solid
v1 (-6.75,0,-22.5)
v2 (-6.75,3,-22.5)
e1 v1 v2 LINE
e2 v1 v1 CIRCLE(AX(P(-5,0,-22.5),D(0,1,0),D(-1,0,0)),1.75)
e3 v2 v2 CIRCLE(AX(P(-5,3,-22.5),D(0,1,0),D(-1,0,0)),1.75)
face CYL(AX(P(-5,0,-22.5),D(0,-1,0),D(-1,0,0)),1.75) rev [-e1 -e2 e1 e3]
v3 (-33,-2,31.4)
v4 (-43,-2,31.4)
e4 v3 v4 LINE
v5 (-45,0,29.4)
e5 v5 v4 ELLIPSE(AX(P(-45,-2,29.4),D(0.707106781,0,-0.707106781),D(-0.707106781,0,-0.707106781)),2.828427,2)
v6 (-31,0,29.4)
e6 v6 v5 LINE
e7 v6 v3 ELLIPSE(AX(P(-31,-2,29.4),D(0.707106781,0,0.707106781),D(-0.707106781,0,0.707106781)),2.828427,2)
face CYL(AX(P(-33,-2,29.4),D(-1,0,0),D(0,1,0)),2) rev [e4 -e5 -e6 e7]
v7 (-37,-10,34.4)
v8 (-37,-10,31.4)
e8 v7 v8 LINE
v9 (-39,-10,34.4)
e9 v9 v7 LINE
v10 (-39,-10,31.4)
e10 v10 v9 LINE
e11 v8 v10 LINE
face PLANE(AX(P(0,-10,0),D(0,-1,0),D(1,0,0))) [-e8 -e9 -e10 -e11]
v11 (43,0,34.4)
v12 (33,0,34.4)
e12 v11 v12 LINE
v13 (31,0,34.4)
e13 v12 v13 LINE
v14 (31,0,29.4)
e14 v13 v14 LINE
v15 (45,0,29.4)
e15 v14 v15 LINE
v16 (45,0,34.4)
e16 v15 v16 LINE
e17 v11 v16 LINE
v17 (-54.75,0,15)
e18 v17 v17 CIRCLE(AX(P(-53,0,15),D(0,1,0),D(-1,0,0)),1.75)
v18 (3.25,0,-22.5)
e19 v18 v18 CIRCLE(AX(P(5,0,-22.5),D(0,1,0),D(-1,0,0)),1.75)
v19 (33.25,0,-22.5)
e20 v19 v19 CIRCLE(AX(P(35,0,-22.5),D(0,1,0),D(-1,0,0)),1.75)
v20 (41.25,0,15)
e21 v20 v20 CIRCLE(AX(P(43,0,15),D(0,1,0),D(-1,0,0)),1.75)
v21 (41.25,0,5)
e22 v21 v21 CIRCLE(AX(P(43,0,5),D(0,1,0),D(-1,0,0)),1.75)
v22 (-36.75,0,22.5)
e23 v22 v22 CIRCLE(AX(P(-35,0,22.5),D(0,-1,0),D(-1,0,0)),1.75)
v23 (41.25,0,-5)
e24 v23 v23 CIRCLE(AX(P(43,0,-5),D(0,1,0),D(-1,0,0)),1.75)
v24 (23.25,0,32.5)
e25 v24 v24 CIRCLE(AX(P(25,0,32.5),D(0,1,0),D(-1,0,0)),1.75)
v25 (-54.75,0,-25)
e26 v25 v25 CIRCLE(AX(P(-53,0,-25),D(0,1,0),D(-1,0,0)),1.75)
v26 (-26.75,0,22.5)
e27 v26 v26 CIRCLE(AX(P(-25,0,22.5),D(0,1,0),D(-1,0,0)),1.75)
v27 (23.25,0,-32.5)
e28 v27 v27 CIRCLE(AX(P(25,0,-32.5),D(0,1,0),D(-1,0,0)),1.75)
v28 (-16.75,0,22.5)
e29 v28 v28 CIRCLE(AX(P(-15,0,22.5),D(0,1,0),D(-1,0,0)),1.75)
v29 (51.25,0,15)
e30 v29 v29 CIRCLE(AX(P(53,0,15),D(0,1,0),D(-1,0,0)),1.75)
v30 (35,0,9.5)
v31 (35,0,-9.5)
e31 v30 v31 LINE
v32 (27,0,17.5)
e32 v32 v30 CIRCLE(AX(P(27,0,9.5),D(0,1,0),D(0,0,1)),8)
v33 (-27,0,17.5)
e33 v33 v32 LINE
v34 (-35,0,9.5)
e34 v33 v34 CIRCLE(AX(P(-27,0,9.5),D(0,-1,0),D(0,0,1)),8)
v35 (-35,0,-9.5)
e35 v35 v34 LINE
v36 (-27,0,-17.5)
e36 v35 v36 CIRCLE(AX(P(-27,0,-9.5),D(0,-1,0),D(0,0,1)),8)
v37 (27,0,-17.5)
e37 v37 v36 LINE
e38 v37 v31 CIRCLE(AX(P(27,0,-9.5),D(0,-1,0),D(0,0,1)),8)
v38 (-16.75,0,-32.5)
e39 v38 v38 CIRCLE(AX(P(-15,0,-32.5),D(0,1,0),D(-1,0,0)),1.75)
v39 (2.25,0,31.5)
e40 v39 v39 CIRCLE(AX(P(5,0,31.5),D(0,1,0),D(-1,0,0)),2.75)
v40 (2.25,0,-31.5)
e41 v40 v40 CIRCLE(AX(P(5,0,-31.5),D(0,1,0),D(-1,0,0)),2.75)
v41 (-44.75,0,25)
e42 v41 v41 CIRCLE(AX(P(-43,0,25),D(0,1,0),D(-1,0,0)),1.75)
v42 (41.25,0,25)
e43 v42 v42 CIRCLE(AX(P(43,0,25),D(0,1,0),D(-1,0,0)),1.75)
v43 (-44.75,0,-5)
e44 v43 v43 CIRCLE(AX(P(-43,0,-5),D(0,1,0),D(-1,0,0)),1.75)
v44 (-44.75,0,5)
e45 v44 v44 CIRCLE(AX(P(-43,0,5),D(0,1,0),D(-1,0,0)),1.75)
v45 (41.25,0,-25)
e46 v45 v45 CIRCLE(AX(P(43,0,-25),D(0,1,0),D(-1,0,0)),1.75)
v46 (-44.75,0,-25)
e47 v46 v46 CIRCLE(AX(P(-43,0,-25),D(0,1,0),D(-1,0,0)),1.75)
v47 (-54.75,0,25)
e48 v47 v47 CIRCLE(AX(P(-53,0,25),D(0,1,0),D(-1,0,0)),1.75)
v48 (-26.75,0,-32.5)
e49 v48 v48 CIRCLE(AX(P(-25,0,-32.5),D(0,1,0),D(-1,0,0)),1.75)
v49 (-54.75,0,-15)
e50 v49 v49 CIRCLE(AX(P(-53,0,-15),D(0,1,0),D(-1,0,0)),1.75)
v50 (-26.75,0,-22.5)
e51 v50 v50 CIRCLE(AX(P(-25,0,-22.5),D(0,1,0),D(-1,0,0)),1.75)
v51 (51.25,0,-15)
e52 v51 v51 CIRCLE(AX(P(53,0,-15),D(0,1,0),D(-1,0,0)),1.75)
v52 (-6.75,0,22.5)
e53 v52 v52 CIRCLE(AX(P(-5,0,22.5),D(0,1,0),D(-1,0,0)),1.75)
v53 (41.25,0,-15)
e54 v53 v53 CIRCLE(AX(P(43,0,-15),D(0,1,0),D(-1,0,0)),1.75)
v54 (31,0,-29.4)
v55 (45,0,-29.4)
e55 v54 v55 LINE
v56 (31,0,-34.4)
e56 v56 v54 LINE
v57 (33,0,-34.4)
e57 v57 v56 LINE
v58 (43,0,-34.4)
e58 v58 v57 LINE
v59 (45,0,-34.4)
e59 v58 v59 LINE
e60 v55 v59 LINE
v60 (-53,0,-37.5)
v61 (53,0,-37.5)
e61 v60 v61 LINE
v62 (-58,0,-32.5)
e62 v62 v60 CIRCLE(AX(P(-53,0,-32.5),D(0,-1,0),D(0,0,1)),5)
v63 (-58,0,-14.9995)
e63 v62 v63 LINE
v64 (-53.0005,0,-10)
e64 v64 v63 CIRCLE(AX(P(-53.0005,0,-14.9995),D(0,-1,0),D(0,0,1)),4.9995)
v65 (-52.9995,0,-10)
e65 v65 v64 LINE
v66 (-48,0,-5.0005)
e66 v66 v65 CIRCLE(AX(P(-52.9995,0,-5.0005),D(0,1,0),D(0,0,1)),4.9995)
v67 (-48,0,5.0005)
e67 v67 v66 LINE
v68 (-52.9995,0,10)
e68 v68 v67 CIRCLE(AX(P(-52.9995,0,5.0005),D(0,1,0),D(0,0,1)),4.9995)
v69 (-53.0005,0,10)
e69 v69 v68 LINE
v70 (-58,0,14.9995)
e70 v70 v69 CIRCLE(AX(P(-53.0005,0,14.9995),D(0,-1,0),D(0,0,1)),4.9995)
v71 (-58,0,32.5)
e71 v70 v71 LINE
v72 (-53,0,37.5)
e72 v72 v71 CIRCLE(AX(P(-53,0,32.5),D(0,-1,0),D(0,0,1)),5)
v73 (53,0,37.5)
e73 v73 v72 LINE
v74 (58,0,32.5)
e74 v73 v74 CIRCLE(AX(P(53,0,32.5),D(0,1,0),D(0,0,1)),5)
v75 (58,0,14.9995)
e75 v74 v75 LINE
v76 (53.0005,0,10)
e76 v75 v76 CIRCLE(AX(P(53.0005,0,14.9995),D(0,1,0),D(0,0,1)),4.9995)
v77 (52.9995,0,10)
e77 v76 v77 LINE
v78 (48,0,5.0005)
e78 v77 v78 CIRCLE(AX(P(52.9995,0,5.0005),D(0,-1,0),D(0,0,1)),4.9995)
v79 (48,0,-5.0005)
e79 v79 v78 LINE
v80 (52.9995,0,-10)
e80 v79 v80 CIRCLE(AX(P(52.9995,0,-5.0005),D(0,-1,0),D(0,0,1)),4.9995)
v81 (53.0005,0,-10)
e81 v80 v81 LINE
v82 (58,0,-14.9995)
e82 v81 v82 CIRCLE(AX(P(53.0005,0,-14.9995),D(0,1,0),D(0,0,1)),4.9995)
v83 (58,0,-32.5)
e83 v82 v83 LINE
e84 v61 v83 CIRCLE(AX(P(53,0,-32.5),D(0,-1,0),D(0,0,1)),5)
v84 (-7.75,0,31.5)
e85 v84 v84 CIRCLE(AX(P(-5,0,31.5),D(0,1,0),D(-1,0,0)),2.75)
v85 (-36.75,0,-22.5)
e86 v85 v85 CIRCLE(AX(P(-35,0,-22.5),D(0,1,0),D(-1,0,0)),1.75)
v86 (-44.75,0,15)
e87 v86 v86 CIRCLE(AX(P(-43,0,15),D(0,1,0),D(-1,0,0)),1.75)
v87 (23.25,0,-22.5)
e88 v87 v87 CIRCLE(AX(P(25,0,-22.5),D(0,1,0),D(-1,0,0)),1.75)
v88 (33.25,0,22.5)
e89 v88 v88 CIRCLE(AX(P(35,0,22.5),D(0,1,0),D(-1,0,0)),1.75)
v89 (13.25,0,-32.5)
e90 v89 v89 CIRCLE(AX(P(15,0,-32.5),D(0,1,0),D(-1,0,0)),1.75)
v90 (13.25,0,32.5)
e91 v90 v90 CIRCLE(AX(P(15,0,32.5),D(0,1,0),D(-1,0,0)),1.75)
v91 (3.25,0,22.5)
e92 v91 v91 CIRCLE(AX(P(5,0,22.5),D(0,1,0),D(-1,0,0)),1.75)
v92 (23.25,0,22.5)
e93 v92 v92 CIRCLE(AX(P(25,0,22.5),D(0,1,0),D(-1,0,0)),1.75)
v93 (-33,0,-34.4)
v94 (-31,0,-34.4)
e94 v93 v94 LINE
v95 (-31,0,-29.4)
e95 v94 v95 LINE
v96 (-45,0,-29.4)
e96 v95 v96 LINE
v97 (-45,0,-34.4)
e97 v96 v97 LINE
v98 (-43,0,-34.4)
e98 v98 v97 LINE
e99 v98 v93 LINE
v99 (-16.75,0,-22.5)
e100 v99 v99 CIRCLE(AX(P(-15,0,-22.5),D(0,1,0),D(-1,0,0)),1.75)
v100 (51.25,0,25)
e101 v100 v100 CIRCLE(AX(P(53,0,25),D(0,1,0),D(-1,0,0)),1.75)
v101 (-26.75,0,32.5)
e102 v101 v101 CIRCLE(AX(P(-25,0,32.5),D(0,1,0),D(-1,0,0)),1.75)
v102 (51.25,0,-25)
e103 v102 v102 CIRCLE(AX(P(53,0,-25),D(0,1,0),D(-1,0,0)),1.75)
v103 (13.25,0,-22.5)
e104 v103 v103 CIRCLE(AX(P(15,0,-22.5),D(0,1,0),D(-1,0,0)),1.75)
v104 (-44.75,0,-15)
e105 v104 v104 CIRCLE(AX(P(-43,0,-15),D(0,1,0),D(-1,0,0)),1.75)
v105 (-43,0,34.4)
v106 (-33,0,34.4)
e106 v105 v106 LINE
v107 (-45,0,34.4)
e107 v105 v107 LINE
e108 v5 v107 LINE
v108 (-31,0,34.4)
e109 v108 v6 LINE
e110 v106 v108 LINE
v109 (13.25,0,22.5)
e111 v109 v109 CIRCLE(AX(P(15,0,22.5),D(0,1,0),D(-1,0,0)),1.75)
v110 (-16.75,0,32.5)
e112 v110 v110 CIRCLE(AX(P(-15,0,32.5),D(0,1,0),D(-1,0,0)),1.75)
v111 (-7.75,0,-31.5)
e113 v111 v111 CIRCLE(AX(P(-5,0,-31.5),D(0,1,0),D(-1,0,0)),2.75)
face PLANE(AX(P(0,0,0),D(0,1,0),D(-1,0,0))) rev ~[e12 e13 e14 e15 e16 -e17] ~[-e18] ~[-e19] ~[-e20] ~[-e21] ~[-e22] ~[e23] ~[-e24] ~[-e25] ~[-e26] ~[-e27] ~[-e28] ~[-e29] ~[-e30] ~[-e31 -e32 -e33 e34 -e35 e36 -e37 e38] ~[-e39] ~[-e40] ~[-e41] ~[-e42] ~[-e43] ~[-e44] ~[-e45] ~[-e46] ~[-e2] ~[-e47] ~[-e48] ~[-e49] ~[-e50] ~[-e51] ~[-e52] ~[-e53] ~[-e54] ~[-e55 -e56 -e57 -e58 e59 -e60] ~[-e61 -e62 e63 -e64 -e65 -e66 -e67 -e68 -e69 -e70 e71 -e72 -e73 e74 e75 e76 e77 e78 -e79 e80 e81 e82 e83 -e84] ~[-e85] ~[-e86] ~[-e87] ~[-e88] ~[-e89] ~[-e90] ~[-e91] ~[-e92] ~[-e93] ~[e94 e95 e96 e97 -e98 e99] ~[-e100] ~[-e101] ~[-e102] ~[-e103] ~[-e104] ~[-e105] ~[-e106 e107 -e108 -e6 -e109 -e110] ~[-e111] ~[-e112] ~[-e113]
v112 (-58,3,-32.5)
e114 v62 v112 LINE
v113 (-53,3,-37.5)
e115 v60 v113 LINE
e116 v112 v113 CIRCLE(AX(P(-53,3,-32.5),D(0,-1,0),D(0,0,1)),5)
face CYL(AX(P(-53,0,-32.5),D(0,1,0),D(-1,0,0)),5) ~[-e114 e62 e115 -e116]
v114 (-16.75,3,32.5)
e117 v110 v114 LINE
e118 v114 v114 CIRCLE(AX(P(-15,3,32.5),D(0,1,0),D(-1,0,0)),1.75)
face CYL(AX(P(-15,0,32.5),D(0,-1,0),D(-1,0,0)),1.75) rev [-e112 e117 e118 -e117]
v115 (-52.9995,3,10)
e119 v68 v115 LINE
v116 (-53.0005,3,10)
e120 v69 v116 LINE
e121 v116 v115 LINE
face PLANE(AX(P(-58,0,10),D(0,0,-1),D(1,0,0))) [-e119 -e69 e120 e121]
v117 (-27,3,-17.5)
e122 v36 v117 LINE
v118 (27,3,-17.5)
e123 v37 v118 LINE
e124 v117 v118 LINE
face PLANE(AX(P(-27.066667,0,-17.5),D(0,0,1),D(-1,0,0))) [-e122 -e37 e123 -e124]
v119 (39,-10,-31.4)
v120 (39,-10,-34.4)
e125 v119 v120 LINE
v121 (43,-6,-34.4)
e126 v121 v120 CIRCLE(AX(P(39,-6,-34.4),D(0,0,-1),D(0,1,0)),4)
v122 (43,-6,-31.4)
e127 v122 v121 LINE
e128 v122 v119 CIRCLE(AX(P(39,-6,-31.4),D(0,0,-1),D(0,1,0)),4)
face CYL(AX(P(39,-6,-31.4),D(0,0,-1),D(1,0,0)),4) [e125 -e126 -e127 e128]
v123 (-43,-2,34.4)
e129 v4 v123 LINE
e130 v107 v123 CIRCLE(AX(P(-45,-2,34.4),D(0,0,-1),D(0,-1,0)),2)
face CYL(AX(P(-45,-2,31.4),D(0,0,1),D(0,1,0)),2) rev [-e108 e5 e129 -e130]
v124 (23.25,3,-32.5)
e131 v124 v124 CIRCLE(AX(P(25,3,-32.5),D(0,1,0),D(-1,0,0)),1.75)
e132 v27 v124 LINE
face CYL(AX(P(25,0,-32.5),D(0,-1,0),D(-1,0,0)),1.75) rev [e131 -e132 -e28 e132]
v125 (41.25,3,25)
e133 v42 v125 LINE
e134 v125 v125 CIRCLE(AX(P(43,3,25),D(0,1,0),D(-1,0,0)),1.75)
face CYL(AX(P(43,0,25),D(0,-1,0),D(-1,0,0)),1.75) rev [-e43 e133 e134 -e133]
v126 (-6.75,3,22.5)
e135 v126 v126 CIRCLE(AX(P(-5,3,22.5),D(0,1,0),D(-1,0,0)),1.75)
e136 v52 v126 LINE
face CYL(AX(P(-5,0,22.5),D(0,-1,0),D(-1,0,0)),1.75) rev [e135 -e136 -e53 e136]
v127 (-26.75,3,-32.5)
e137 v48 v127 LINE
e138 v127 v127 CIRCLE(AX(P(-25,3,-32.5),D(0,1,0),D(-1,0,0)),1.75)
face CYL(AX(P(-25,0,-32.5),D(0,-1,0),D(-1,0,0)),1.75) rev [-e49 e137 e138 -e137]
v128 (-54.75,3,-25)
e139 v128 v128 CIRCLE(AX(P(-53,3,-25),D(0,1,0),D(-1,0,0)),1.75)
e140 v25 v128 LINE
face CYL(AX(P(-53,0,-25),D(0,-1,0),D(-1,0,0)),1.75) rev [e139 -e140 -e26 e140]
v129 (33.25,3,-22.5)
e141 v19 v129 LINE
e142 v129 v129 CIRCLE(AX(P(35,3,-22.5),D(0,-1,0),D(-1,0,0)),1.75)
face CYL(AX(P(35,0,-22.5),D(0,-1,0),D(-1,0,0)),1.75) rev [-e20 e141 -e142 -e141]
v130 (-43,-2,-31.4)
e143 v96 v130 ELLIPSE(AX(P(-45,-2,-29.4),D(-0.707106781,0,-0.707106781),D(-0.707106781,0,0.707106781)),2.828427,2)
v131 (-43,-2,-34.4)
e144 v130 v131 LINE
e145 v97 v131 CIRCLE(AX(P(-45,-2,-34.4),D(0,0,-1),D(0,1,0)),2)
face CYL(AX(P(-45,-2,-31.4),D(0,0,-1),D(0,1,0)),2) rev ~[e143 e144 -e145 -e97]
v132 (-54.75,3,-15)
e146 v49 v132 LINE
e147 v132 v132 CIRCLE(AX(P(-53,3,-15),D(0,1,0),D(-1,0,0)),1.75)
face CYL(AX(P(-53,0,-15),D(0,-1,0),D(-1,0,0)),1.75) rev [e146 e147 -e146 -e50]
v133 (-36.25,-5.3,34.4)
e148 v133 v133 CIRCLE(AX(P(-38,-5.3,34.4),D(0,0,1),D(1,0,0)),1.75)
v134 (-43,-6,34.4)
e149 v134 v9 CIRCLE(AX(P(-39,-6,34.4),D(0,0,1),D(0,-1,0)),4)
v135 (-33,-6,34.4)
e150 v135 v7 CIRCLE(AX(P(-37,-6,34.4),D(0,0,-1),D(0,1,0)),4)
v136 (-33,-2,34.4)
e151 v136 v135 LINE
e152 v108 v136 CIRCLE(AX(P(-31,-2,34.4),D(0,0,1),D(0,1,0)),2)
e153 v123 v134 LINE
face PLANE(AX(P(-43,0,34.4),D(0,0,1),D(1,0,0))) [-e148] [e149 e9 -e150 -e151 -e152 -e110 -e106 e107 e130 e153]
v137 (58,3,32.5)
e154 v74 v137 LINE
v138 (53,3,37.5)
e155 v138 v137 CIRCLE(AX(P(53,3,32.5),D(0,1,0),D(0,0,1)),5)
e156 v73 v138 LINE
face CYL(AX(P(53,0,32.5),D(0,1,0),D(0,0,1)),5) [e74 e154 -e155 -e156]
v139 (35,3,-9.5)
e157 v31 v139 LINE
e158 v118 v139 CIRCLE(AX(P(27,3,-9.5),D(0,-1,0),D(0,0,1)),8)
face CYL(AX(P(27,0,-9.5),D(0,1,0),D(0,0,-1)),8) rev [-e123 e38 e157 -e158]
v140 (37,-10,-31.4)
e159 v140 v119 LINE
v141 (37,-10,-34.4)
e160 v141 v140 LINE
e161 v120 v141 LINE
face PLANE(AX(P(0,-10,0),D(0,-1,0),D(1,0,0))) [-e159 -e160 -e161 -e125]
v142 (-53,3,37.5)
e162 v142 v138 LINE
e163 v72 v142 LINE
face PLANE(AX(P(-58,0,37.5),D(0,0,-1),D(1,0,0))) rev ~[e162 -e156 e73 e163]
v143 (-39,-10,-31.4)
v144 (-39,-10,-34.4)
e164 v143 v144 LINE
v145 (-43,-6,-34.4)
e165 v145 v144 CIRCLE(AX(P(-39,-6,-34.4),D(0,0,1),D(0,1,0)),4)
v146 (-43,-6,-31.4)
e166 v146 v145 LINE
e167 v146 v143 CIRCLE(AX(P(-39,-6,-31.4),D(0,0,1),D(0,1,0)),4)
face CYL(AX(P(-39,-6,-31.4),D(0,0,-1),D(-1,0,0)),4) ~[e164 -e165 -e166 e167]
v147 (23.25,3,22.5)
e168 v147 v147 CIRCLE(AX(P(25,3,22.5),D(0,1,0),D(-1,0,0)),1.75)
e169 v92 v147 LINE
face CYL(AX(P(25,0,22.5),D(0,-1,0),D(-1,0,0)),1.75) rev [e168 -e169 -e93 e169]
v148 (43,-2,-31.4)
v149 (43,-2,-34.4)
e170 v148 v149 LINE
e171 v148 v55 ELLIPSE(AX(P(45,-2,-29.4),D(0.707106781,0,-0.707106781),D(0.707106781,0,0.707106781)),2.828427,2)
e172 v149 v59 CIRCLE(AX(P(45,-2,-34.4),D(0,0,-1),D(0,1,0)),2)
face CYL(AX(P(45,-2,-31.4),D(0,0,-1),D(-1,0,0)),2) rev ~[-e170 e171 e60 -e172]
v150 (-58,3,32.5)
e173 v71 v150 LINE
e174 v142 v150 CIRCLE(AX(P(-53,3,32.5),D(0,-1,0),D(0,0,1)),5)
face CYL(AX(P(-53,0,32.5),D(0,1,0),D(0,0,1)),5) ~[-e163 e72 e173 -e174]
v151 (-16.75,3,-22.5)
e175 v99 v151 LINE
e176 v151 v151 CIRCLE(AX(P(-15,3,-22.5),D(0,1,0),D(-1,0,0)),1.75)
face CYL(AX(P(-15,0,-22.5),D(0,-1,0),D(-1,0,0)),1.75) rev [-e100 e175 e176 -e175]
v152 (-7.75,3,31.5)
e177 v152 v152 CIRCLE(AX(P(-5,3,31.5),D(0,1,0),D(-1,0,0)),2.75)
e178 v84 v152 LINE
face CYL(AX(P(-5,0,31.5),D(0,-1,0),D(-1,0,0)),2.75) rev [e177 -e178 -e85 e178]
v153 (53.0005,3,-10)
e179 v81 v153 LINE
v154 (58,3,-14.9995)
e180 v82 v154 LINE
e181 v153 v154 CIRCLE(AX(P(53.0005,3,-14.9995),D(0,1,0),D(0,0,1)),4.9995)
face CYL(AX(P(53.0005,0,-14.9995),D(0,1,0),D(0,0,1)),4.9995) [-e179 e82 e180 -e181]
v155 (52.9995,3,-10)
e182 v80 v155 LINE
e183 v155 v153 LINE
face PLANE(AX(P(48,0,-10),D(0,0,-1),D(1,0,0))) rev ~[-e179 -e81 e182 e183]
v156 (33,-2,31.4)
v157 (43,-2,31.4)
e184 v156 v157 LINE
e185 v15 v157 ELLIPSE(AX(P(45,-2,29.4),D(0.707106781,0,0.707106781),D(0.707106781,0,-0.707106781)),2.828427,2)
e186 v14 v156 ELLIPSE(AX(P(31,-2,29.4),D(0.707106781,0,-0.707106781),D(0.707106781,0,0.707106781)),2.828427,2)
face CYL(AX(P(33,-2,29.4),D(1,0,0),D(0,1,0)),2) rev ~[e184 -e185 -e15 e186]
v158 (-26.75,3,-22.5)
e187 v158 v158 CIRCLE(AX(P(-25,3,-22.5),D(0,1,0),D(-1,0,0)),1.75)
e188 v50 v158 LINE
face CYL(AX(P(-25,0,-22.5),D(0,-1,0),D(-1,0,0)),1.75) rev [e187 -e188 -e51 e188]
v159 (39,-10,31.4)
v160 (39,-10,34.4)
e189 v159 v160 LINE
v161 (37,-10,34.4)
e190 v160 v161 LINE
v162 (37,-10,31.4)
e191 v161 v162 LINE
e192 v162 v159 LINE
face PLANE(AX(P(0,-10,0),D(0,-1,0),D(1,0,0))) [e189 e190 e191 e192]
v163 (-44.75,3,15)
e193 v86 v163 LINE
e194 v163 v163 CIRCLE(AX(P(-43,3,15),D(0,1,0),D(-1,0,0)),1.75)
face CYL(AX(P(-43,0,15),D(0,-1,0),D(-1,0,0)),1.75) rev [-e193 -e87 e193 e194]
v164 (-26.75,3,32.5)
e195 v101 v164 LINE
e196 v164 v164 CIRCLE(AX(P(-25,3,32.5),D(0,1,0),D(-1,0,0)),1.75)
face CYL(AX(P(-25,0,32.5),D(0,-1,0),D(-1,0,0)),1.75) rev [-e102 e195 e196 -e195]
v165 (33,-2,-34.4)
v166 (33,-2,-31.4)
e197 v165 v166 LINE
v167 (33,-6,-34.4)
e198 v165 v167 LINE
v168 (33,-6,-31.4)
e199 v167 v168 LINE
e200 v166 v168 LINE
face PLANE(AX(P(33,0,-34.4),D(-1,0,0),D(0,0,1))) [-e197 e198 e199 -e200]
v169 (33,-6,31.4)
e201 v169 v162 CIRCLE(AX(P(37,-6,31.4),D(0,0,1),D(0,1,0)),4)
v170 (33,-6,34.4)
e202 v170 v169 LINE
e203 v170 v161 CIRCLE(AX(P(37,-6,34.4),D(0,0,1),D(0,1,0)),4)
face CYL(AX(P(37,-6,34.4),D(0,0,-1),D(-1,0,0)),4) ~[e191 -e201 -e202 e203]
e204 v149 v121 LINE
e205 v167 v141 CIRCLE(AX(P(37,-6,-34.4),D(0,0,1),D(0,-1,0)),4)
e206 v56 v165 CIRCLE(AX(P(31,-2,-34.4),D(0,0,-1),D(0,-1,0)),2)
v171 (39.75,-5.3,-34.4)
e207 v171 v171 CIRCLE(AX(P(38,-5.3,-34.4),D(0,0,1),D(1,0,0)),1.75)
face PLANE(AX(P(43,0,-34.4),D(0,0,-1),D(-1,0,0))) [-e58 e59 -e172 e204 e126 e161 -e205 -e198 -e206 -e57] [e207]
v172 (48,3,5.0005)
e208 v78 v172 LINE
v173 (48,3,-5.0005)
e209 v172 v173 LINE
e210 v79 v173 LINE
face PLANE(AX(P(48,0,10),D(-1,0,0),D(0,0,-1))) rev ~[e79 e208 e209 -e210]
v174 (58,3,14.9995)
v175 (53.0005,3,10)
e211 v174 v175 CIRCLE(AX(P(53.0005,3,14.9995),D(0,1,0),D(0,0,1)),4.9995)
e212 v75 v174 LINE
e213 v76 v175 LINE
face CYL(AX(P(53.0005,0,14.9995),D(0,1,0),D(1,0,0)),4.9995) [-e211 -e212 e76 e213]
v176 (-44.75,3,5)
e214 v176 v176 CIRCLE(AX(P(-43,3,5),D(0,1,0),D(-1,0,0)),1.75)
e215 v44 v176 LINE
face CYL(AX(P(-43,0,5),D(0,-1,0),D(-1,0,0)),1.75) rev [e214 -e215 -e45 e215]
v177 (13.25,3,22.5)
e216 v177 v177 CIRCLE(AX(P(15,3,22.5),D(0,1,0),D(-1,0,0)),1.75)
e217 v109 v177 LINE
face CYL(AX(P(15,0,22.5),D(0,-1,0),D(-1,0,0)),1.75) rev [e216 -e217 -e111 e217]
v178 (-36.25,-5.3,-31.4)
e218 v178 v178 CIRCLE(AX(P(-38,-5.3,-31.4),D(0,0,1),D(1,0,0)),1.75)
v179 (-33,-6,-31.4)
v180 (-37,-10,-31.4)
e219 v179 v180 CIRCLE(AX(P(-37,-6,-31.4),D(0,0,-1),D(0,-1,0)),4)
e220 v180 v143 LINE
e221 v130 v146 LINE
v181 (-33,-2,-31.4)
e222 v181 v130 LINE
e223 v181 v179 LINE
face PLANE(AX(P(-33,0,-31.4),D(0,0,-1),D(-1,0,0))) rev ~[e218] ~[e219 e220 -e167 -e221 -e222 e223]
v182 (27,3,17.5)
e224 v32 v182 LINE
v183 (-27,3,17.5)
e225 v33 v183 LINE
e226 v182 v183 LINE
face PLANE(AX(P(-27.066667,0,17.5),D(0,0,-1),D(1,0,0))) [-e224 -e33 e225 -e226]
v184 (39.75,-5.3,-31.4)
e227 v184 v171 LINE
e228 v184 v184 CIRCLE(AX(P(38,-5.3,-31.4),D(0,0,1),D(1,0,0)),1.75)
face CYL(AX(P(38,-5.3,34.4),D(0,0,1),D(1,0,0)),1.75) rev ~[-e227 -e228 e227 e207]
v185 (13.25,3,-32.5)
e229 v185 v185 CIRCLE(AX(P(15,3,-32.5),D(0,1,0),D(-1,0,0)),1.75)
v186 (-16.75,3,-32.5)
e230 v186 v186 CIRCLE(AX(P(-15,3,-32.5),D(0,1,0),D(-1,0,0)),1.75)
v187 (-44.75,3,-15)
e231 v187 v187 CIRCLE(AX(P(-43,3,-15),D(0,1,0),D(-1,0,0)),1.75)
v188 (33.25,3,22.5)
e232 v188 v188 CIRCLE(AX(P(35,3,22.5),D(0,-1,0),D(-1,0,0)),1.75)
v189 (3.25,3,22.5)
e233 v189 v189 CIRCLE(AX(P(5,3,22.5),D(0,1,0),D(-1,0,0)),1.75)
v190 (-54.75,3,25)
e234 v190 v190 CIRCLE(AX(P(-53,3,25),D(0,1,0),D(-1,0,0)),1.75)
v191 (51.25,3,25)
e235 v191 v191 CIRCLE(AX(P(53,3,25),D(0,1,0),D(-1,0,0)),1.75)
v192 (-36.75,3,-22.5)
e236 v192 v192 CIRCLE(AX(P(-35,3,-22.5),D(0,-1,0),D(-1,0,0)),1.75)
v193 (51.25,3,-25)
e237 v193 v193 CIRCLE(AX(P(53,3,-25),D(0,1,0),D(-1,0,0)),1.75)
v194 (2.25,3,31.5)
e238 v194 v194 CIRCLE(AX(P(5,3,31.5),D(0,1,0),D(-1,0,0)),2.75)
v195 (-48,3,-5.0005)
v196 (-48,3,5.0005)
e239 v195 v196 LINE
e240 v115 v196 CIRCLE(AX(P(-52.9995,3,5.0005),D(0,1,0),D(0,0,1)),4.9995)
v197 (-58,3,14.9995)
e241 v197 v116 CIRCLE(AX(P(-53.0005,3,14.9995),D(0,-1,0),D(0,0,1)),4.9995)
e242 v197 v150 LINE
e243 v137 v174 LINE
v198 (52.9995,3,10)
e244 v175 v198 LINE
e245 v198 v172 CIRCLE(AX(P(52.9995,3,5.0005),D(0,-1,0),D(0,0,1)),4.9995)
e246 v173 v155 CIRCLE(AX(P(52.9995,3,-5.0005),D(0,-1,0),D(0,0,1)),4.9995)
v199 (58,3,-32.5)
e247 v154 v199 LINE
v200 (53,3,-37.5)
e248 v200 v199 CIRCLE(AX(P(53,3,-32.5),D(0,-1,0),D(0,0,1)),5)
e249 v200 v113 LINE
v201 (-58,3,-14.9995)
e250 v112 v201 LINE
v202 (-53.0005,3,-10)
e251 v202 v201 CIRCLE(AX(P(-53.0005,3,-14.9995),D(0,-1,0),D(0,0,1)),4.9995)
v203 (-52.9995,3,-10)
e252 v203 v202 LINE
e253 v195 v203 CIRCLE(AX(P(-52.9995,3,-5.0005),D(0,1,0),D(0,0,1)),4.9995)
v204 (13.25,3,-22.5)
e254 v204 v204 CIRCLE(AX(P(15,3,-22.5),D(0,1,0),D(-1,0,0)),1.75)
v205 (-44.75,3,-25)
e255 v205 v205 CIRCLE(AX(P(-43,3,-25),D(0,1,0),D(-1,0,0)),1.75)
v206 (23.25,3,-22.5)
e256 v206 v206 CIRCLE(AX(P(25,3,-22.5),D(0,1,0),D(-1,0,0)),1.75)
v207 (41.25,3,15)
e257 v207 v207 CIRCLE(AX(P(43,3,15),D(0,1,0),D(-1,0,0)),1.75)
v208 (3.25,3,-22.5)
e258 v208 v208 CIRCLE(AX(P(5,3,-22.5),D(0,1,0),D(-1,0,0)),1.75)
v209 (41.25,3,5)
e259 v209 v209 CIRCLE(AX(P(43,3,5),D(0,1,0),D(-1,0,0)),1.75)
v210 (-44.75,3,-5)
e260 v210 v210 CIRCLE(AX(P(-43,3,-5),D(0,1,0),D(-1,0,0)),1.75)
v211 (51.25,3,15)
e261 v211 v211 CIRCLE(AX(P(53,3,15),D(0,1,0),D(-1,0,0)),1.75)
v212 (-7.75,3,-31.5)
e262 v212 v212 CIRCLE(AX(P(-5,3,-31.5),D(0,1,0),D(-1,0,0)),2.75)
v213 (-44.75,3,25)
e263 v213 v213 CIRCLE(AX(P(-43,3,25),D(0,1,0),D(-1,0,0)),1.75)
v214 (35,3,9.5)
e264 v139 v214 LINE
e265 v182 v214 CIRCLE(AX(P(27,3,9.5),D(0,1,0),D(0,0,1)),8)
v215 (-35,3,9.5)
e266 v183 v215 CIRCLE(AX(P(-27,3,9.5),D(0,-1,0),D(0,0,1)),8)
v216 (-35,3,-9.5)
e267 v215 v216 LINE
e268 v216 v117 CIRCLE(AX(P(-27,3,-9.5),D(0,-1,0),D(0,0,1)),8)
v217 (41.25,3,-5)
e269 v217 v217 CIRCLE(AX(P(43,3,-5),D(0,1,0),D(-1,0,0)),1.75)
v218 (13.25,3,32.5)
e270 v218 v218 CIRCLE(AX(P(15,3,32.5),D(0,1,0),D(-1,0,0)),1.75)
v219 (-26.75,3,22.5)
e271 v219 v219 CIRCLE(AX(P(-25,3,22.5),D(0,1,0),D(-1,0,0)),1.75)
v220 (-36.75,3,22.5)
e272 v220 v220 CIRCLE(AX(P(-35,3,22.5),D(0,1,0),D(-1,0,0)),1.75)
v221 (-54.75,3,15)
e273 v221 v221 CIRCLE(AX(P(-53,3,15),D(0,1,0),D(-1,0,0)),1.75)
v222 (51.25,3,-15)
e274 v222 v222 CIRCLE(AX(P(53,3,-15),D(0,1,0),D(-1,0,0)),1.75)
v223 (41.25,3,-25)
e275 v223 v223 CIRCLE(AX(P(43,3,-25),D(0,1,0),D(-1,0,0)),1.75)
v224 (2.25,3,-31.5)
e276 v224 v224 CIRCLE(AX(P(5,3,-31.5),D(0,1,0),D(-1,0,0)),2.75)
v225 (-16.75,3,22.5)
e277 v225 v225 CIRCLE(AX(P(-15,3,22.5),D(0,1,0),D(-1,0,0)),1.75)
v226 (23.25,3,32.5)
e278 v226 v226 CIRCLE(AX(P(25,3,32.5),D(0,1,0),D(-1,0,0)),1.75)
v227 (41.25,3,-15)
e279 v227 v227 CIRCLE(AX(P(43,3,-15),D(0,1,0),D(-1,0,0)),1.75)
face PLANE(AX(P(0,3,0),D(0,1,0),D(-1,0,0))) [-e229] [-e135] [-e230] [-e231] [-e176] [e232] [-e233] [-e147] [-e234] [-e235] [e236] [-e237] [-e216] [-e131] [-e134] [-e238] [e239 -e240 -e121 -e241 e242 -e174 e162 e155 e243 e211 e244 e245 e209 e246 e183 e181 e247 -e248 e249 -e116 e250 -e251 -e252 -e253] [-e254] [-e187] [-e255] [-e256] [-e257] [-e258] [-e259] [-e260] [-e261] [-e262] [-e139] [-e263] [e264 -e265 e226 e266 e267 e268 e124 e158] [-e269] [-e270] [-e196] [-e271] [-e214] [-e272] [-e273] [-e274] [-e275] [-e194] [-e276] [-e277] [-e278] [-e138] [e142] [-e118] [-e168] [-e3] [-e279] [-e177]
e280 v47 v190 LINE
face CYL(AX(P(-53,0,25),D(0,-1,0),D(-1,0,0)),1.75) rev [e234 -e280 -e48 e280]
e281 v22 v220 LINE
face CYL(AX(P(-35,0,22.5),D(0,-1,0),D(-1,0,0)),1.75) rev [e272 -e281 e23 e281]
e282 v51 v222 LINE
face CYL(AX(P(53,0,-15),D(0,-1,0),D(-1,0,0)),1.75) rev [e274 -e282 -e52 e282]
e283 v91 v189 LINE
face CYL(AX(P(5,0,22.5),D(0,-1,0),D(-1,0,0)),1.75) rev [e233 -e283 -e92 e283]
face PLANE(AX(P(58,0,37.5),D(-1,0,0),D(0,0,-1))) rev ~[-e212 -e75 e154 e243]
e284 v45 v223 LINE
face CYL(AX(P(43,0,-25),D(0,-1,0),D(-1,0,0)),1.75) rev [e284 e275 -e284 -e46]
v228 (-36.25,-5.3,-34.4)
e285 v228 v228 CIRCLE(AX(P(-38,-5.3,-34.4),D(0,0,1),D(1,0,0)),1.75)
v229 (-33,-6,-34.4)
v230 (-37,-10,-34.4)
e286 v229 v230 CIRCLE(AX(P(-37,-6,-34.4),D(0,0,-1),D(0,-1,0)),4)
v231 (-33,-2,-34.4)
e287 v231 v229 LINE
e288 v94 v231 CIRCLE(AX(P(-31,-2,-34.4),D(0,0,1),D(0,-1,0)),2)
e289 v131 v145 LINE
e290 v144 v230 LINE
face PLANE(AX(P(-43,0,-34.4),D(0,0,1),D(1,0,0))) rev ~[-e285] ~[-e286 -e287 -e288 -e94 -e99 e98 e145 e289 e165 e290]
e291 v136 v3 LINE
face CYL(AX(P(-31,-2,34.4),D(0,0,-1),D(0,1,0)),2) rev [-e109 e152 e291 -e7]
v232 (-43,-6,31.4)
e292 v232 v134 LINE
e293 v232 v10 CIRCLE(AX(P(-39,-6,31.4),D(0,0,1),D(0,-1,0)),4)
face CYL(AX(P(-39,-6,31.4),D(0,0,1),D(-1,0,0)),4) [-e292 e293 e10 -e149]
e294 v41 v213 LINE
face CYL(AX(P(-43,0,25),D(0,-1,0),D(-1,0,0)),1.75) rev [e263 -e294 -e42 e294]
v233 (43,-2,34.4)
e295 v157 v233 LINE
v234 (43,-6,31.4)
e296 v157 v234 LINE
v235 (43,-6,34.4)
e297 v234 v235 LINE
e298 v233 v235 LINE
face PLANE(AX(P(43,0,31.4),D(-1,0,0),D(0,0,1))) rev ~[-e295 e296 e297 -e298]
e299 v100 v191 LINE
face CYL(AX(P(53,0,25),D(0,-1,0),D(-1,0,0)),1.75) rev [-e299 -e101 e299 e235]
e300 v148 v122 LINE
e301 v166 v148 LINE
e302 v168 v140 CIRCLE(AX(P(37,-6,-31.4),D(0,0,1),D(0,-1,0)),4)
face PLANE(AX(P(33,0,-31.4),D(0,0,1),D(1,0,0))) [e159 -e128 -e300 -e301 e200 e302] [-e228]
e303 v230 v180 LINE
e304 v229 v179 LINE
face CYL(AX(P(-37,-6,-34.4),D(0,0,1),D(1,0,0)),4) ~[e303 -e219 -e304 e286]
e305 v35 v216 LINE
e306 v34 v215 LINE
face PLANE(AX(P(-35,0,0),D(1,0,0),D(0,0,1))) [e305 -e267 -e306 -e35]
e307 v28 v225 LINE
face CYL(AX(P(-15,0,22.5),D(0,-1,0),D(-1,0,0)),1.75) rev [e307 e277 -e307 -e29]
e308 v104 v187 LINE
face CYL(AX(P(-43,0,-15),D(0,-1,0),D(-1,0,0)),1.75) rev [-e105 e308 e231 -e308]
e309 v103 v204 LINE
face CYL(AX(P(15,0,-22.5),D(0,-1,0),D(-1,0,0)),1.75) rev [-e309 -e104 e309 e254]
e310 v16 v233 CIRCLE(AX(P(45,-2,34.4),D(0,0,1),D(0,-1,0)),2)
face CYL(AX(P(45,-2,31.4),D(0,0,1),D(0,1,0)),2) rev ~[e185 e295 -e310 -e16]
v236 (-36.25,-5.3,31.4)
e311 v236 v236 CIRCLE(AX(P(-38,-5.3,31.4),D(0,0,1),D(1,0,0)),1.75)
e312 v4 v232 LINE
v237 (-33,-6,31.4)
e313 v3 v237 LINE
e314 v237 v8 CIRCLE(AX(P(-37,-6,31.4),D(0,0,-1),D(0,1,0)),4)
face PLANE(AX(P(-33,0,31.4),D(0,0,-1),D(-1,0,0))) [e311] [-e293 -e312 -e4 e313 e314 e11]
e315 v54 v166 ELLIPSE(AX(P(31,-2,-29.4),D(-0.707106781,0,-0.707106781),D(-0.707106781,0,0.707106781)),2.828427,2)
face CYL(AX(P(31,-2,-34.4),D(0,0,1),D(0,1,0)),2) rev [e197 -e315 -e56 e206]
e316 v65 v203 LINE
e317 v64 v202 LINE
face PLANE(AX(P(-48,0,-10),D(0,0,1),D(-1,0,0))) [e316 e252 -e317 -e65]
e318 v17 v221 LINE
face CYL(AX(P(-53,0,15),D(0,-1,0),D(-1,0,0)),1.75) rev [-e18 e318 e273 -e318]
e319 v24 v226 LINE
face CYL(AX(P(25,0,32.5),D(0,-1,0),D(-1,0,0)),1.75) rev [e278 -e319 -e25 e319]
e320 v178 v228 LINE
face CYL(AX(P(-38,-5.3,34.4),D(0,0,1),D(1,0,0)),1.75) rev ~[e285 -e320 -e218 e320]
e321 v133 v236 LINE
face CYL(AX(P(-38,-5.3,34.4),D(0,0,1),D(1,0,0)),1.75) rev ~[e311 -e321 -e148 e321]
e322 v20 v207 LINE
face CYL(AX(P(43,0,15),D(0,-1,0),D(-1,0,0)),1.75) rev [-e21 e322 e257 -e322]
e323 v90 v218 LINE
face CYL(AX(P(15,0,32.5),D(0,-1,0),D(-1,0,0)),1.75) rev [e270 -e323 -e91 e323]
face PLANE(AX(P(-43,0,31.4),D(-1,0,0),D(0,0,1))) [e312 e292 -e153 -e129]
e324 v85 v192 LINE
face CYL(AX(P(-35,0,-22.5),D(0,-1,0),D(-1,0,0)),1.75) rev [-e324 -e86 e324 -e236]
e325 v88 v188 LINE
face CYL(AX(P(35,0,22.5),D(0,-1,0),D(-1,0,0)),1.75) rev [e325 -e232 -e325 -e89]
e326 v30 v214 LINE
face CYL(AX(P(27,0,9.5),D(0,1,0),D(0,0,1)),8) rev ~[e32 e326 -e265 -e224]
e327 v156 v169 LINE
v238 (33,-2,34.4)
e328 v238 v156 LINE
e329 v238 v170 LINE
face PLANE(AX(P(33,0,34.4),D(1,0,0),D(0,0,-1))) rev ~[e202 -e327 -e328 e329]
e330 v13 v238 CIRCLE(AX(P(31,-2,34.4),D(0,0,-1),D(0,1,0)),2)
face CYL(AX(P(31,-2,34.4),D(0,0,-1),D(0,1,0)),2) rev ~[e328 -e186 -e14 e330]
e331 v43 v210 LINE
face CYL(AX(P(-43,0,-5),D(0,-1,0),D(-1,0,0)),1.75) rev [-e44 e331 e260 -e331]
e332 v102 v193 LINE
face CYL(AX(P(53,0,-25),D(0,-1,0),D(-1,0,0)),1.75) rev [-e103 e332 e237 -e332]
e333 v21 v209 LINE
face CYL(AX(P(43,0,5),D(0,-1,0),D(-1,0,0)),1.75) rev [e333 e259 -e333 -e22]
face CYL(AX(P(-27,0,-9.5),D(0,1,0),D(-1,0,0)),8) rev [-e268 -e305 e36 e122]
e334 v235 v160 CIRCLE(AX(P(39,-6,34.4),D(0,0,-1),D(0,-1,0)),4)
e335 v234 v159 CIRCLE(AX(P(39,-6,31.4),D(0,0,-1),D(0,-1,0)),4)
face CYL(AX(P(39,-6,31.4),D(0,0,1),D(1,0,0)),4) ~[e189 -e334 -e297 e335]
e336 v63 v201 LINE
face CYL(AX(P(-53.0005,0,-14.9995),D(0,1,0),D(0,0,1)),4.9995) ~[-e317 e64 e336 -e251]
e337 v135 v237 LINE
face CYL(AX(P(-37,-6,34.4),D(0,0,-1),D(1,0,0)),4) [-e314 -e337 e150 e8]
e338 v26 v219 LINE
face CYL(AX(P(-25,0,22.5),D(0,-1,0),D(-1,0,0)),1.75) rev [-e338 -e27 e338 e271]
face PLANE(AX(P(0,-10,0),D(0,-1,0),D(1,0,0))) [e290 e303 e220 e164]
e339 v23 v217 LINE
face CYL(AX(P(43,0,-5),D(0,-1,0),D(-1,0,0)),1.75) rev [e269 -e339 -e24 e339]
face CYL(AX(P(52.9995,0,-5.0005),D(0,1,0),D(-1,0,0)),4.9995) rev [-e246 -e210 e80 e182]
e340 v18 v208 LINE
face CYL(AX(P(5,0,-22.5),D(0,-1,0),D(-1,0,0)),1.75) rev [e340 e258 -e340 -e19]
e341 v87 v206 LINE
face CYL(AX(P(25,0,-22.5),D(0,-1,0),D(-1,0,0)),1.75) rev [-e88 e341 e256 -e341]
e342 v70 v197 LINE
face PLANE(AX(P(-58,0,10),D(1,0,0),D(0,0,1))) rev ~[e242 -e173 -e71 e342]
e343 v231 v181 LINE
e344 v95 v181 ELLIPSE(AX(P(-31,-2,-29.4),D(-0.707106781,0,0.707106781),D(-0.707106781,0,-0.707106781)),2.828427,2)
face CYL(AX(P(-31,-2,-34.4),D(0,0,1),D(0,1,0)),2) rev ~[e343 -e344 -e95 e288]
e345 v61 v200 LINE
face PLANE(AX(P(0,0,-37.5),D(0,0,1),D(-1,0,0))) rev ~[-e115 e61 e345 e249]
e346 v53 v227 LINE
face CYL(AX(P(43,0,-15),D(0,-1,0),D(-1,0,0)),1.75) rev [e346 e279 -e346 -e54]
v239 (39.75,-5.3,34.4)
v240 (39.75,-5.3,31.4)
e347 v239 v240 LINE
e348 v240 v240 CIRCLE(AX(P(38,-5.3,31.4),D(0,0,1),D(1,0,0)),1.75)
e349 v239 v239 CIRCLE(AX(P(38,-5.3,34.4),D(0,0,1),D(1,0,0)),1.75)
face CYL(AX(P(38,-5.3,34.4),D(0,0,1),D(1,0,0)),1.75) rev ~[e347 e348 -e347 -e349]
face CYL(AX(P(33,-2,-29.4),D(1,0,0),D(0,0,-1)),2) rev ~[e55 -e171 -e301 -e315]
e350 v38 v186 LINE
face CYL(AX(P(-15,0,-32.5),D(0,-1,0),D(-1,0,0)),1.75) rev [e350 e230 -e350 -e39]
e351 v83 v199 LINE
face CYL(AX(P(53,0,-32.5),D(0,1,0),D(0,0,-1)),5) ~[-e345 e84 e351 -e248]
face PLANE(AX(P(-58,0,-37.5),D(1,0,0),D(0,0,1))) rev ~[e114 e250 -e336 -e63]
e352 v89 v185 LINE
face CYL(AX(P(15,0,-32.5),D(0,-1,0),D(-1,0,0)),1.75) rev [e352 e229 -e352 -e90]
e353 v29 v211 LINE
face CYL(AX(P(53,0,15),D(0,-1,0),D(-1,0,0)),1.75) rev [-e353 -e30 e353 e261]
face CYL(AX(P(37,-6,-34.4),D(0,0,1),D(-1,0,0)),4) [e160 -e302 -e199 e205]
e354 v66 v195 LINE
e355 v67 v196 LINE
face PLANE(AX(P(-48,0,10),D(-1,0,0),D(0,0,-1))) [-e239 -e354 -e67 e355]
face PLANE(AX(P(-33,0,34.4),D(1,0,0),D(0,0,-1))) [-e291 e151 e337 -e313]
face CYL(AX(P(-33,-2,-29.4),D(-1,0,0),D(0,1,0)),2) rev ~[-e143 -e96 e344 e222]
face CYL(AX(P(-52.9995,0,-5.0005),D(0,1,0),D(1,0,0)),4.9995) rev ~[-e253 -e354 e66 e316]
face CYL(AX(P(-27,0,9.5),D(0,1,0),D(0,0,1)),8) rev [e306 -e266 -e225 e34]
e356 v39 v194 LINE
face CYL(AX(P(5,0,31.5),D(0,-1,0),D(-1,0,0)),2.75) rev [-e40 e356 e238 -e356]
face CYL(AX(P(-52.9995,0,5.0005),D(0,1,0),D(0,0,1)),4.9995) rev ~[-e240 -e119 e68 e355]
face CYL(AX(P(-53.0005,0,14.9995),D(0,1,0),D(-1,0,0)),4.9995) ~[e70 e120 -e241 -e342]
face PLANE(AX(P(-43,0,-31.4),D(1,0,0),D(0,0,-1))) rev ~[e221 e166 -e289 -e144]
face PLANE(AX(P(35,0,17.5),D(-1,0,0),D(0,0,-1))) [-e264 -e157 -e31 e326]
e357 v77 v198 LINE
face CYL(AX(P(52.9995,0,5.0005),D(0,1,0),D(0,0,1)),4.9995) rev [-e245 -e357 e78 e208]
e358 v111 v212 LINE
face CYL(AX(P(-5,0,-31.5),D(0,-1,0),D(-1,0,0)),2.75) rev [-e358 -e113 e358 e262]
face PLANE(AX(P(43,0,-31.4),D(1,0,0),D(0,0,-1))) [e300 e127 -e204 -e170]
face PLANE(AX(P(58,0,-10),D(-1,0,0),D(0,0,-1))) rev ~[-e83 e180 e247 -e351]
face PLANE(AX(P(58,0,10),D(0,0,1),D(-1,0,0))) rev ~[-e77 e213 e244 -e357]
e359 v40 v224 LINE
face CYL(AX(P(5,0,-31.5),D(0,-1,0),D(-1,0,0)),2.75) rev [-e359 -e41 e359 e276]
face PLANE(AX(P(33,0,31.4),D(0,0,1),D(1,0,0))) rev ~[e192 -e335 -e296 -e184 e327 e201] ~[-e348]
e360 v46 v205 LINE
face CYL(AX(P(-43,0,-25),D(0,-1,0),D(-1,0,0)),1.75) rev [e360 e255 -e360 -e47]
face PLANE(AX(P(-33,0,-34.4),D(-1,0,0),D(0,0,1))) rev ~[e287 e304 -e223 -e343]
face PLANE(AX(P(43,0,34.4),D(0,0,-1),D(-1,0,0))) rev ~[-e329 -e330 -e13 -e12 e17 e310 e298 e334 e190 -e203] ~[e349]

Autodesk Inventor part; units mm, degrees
ref_plane "YZ Plane" through (0, 0, 0) normal (1, 0, 0) x (0, 1, 0)
ref_plane "XZ Plane" through (0, 0, 0) normal (0, 1, 0) x (-1, 0, 0)
ref_plane "XY Plane" through (0, 0, 0) normal (0, 0, 1) x (1, 0, 0)
sketch "Esquisse1" plane through (0, 0, 0) normal (0, 1, 0) x (-1, 0, 0)
  line L0 (58, 37.5) -> (-58, 37.5)
  line L1 (-58, 37.5) -> (-58, -37.5)
  line L2 (-58, -37.5) -> (58, -37.5)
  line L3 (58, -37.5) -> (58, 37.5)
  line L4 (58, 37.5) -> (-58, -37.5)
  line L5 (-58, 37.5) -> (58, -37.5)
  circle A0 centre (53, 25) radius 1.75
  circle A1 centre (53, 15) radius 1.75
  line L6 (67, 0) -> (-72, 0)
  circle A2 centre (43, 25) radius 1.75
  circle A3 centre (43, 15) radius 1.75
  circle A4 centre (43, 5) radius 1.75
  circle A5 centre (53, -25) radius 1.75
  circle A6 centre (53, -15) radius 1.75
  circle A7 centre (43, -25) radius 1.75
  circle A8 centre (43, -15) radius 1.75
  circle A9 centre (43, -5) radius 1.75
  line L7 (0, 58.5) -> (0, -80.5)
  circle A10 centre (-53, 25) radius 1.75
  circle A11 centre (-53, 15) radius 1.75
  circle A12 centre (-43, 25) radius 1.75
  circle A13 centre (-43, 15) radius 1.75
  circle A14 centre (-43, 5) radius 1.75
  circle A15 centre (-43, -25) radius 1.75
  circle A16 centre (-43, -15) radius 1.75
  circle A17 centre (-53, -15) radius 1.75
  circle A18 centre (-43, -5) radius 1.75
  circle A19 centre (-53, -25) radius 1.75
  circle A20 centre (5, 31.5) radius 2.75
  circle A21 centre (5, 22.5) radius 1.75
  circle A22 centre (15, 32.5) radius 1.75
  circle A23 centre (15, 22.5) radius 1.75
  circle A24 centre (25, 32.5) radius 1.75
  circle A25 centre (25, 22.5) radius 1.75
  circle A26 centre (35, 22.5) radius 1.75
  circle A27 centre (-5, 31.5) radius 2.75
  circle A28 centre (-5, 22.5) radius 1.75
  circle A29 centre (-15, 32.5) radius 1.75
  circle A30 centre (-15, 22.5) radius 1.75
  circle A31 centre (-25, 32.5) radius 1.75
  circle A32 centre (-25, 22.5) radius 1.75
  circle A33 centre (-35, 22.5) radius 1.75
  circle A34 centre (5, -31.5) radius 2.75
  circle A35 centre (5, -22.5) radius 1.75
  circle A36 centre (15, -32.5) radius 1.75
  circle A37 centre (15, -22.5) radius 1.75
  circle A38 centre (25, -32.5) radius 1.75
  circle A39 centre (25, -22.5) radius 1.75
  circle A40 centre (35, -22.5) radius 1.75
  circle A41 centre (-35, -22.5) radius 1.75
  circle A42 centre (-25, -22.5) radius 1.75
  circle A43 centre (-25, -32.5) radius 1.75
  circle A44 centre (-15, -22.5) radius 1.75
  circle A45 centre (-15, -32.5) radius 1.75
  circle A46 centre (-5, -22.5) radius 1.75
  circle A47 centre (-5, -31.5) radius 2.75
  line L8 (35, 17.5) -> (-35, 17.5)
  line L9 (-35, 17.5) -> (-35, -17.5)
  line L10 (-35, -17.5) -> (35, -17.5)
  line L11 (35, -17.5) -> (35, 17.5)
  line L12 (35, 17.5) -> (-35, -17.5)
  line L13 (-35, 17.5) -> (35, -17.5)
  line L14 (-58, 10) -> (-48, 10)
  line L15 (-48, 10) -> (-48, -10)
  line L16 (-48, -10) -> (-58, -10)
  line L17 (-58, -10) -> (-58, 10)
  line L18 (-58, 10) -> (-48, -10)
  line L19 (-48, 10) -> (-58, -10)
  line L20 (58, 10) -> (48, 10)
  line L21 (48, 10) -> (48, -10)
  line L22 (48, -10) -> (58, -10)
  line L23 (58, -10) -> (58, 10)
  line L24 (58, 10) -> (48, -10)
  line L25 (48, 10) -> (58, -10)
  point P0 (0, 0)
  point P1 (0, 0)
  point P2 (0, 0)
  point P3 (-53, 0)
  point P4 (53, 0)
  dimension "d0" = 116
  dimension "d1" = 75
  dimension "d3" = 3.5
  dimension "d4" = 3.5
  dimension "d7" = 10
  dimension "d9" = 3.5
  dimension "d10" = 3.5
  dimension "d11" = 3.5
  dimension "d12" = 10
  dimension "d13" = 10
  dimension "d15" = 5
  dimension "d16" = 5
  dimension "d17" = 5
  dimension "d19" = 5.5
  dimension "d20" = 3.5
  dimension "d21" = 3.5
  dimension "d22" = 3.5
  dimension "d23" = 3.5
  dimension "d24" = 3.5
  dimension "d26" = 3.5
  dimension "d27" = 5
  dimension "d28" = 5
  dimension "d30" = 6
  dimension "d31" = 10
  dimension "d32" = 10
  dimension "d33" = 10
  dimension "d34" = 5
  dimension "d35" = 10
  dimension "d36" = 10
  dimension "d37" = 5
  dimension "d38" = 10
  dimension "d40" = 10
  dimension "d44" = 35
  dimension "d45" = 70
  dimension "d64" = 10
  dimension "d65" = 20
  dimension "d66" = 0
  dimension "d67" = 0
  dimension "d68" = 37.5
  dimension "d70" = 9
  dimension "d71" = 15
extrude "Extrusion1" add sketch "Esquisse1" along normal blind 3 contours L4 A26 L8 L7 L0 | L3 L20 L21 L6 L11 L8 L4 A26 | L7 L8 L5 A33 L0 | L5 A33 L8 L9 L6 L15 L14 L1 | L3 L5 A40 L10 L11 L6 L21 L22 | L10 L7 L2 L4 A41 | L4 A41 L1 L16 L15 L6 L9 L10 | L5 A40 L2 L7 L10
fillet "Congé1" radius 5 4 edges at (58, 1.5, 37.5) (58, 1.5, -37.5) (-58, 1.5, -37.5) (-58, 1.5, 37.5)
fillet "Congé2" radius 8 4 edges at (-35, 1.5, -17.5) (-35, 1.5, 17.5) (35, 1.5, 17.5) (35, 1.5, -17.5)
sketch "Esquisse2" plane through (0, 0, 0) normal (0, -1, 0) x (1, 0, 0)
  line L0 (-43, 34.4) -> (-33, 34.4)
  line L1 (-33, 34.4) -> (-33, 31.4)
  line L2 (-33, 31.4) -> (-43, 31.4)
  line L3 (-43, 31.4) -> (-43, 34.4)
  line L4 (-43, 34.4) -> (-33, 31.4)
  line L5 (-43, 31.4) -> (-33, 34.4)
  line L6 (-53, 37.5) -> (53, 37.5) projected
  line L7 (-58, -32.5) -> (-58, 32.5) projected
  line L8 (-92, 0) -> (78, 0)
  line L9 (0, 51) -> (0, -66)
  line L10 (-43, -34.4) -> (-33, -34.4)
  line L11 (-33, -34.4) -> (-33, -31.4)
  line L12 (-33, -31.4) -> (-43, -31.4)
  line L13 (-43, -31.4) -> (-43, -34.4)
  line L14 (-43, -34.4) -> (-33, -31.4)
  line L15 (-43, -31.4) -> (-33, -34.4)
  line L16 (0, -51) -> (0, 66)
  line L17 (43, 34.4) -> (33, 34.4)
  line L18 (33, 34.4) -> (33, 31.4)
  line L19 (33, 31.4) -> (43, 31.4)
  line L20 (43, 31.4) -> (43, 34.4)
  line L21 (43, 34.4) -> (33, 31.4)
  line L22 (43, 31.4) -> (33, 34.4)
  line L23 (43, -34.4) -> (33, -34.4)
  line L24 (33, -34.4) -> (33, -31.4)
  line L25 (33, -31.4) -> (43, -31.4)
  line L26 (43, -31.4) -> (43, -34.4)
  line L27 (43, -34.4) -> (33, -31.4)
  line L28 (43, -31.4) -> (33, -34.4)
  point P0 (0, 0)
  point P1 (-38, 32.9)
  point P2 (-38, -32.9)
  point P3 (38, 32.9)
  point P4 (38, -32.9)
  dimension "d50" = 3
  dimension "d51" = 10
  dimension "d52" = 3.1
  dimension "d53" = 20
extrude "Extrusion2" add sketch "Esquisse2" along normal blind 10
sketch "Esquisse3" plane through (-43, 0, 34.4) normal (0, 0, 1) x (1, 0, 0)
  circle A0 centre (5, -5.3) radius 1.75
  line L0 (-10, 3) -> (96, 3) projected
  line L1 (-10, 0) -> (96, 0) projected
  line L2 (0, 0) -> (0, -10) projected
  line L3 (43, 22) -> (43, -21)
  circle A1 centre (81, -5.3) radius 1.75
  point P0 (43, 0)
  dimension "d56" = 3.5
  dimension "d58" = 5.3
  dimension "d59" = 5
extrude "Extrusion3" cut sketch "Esquisse3" against normal blind 75.25
fillet "Congé3" radius 4 8 edges at (-43, -10, 32.9) (-33, -10, 32.9) (-33, -10, -32.9) (-43, -10, -32.9) (33, -10, -32.9) (43, -10, -32.9) (33, -10, 32.9) (43, -10, 32.9)
fillet "Congé4" radius 2 12 edges at (38, 0, 31.4) (43, 0, 32.9) (33, 0, 32.9) (-38, 0, 31.4) (-33, 0, 32.9) (-43, 0, 32.9) (-38, 0, -31.4) (-43, 0, -32.9) (-33, 0, -32.9) (33, 0, -32.9) (38, 0, -31.4) (43, 0, -32.9)
fillet "Congé5" radius 5 8 edges at (-58, 1.5, -10) (-48, 1.5, -10) (-48, 1.5, 10) (-58, 1.5, 10) (58, 1.5, 10) (48, 1.5, 10) (58, 1.5, -10) (48, 1.5, -10)
properties part number "toit_Impression 3D"
